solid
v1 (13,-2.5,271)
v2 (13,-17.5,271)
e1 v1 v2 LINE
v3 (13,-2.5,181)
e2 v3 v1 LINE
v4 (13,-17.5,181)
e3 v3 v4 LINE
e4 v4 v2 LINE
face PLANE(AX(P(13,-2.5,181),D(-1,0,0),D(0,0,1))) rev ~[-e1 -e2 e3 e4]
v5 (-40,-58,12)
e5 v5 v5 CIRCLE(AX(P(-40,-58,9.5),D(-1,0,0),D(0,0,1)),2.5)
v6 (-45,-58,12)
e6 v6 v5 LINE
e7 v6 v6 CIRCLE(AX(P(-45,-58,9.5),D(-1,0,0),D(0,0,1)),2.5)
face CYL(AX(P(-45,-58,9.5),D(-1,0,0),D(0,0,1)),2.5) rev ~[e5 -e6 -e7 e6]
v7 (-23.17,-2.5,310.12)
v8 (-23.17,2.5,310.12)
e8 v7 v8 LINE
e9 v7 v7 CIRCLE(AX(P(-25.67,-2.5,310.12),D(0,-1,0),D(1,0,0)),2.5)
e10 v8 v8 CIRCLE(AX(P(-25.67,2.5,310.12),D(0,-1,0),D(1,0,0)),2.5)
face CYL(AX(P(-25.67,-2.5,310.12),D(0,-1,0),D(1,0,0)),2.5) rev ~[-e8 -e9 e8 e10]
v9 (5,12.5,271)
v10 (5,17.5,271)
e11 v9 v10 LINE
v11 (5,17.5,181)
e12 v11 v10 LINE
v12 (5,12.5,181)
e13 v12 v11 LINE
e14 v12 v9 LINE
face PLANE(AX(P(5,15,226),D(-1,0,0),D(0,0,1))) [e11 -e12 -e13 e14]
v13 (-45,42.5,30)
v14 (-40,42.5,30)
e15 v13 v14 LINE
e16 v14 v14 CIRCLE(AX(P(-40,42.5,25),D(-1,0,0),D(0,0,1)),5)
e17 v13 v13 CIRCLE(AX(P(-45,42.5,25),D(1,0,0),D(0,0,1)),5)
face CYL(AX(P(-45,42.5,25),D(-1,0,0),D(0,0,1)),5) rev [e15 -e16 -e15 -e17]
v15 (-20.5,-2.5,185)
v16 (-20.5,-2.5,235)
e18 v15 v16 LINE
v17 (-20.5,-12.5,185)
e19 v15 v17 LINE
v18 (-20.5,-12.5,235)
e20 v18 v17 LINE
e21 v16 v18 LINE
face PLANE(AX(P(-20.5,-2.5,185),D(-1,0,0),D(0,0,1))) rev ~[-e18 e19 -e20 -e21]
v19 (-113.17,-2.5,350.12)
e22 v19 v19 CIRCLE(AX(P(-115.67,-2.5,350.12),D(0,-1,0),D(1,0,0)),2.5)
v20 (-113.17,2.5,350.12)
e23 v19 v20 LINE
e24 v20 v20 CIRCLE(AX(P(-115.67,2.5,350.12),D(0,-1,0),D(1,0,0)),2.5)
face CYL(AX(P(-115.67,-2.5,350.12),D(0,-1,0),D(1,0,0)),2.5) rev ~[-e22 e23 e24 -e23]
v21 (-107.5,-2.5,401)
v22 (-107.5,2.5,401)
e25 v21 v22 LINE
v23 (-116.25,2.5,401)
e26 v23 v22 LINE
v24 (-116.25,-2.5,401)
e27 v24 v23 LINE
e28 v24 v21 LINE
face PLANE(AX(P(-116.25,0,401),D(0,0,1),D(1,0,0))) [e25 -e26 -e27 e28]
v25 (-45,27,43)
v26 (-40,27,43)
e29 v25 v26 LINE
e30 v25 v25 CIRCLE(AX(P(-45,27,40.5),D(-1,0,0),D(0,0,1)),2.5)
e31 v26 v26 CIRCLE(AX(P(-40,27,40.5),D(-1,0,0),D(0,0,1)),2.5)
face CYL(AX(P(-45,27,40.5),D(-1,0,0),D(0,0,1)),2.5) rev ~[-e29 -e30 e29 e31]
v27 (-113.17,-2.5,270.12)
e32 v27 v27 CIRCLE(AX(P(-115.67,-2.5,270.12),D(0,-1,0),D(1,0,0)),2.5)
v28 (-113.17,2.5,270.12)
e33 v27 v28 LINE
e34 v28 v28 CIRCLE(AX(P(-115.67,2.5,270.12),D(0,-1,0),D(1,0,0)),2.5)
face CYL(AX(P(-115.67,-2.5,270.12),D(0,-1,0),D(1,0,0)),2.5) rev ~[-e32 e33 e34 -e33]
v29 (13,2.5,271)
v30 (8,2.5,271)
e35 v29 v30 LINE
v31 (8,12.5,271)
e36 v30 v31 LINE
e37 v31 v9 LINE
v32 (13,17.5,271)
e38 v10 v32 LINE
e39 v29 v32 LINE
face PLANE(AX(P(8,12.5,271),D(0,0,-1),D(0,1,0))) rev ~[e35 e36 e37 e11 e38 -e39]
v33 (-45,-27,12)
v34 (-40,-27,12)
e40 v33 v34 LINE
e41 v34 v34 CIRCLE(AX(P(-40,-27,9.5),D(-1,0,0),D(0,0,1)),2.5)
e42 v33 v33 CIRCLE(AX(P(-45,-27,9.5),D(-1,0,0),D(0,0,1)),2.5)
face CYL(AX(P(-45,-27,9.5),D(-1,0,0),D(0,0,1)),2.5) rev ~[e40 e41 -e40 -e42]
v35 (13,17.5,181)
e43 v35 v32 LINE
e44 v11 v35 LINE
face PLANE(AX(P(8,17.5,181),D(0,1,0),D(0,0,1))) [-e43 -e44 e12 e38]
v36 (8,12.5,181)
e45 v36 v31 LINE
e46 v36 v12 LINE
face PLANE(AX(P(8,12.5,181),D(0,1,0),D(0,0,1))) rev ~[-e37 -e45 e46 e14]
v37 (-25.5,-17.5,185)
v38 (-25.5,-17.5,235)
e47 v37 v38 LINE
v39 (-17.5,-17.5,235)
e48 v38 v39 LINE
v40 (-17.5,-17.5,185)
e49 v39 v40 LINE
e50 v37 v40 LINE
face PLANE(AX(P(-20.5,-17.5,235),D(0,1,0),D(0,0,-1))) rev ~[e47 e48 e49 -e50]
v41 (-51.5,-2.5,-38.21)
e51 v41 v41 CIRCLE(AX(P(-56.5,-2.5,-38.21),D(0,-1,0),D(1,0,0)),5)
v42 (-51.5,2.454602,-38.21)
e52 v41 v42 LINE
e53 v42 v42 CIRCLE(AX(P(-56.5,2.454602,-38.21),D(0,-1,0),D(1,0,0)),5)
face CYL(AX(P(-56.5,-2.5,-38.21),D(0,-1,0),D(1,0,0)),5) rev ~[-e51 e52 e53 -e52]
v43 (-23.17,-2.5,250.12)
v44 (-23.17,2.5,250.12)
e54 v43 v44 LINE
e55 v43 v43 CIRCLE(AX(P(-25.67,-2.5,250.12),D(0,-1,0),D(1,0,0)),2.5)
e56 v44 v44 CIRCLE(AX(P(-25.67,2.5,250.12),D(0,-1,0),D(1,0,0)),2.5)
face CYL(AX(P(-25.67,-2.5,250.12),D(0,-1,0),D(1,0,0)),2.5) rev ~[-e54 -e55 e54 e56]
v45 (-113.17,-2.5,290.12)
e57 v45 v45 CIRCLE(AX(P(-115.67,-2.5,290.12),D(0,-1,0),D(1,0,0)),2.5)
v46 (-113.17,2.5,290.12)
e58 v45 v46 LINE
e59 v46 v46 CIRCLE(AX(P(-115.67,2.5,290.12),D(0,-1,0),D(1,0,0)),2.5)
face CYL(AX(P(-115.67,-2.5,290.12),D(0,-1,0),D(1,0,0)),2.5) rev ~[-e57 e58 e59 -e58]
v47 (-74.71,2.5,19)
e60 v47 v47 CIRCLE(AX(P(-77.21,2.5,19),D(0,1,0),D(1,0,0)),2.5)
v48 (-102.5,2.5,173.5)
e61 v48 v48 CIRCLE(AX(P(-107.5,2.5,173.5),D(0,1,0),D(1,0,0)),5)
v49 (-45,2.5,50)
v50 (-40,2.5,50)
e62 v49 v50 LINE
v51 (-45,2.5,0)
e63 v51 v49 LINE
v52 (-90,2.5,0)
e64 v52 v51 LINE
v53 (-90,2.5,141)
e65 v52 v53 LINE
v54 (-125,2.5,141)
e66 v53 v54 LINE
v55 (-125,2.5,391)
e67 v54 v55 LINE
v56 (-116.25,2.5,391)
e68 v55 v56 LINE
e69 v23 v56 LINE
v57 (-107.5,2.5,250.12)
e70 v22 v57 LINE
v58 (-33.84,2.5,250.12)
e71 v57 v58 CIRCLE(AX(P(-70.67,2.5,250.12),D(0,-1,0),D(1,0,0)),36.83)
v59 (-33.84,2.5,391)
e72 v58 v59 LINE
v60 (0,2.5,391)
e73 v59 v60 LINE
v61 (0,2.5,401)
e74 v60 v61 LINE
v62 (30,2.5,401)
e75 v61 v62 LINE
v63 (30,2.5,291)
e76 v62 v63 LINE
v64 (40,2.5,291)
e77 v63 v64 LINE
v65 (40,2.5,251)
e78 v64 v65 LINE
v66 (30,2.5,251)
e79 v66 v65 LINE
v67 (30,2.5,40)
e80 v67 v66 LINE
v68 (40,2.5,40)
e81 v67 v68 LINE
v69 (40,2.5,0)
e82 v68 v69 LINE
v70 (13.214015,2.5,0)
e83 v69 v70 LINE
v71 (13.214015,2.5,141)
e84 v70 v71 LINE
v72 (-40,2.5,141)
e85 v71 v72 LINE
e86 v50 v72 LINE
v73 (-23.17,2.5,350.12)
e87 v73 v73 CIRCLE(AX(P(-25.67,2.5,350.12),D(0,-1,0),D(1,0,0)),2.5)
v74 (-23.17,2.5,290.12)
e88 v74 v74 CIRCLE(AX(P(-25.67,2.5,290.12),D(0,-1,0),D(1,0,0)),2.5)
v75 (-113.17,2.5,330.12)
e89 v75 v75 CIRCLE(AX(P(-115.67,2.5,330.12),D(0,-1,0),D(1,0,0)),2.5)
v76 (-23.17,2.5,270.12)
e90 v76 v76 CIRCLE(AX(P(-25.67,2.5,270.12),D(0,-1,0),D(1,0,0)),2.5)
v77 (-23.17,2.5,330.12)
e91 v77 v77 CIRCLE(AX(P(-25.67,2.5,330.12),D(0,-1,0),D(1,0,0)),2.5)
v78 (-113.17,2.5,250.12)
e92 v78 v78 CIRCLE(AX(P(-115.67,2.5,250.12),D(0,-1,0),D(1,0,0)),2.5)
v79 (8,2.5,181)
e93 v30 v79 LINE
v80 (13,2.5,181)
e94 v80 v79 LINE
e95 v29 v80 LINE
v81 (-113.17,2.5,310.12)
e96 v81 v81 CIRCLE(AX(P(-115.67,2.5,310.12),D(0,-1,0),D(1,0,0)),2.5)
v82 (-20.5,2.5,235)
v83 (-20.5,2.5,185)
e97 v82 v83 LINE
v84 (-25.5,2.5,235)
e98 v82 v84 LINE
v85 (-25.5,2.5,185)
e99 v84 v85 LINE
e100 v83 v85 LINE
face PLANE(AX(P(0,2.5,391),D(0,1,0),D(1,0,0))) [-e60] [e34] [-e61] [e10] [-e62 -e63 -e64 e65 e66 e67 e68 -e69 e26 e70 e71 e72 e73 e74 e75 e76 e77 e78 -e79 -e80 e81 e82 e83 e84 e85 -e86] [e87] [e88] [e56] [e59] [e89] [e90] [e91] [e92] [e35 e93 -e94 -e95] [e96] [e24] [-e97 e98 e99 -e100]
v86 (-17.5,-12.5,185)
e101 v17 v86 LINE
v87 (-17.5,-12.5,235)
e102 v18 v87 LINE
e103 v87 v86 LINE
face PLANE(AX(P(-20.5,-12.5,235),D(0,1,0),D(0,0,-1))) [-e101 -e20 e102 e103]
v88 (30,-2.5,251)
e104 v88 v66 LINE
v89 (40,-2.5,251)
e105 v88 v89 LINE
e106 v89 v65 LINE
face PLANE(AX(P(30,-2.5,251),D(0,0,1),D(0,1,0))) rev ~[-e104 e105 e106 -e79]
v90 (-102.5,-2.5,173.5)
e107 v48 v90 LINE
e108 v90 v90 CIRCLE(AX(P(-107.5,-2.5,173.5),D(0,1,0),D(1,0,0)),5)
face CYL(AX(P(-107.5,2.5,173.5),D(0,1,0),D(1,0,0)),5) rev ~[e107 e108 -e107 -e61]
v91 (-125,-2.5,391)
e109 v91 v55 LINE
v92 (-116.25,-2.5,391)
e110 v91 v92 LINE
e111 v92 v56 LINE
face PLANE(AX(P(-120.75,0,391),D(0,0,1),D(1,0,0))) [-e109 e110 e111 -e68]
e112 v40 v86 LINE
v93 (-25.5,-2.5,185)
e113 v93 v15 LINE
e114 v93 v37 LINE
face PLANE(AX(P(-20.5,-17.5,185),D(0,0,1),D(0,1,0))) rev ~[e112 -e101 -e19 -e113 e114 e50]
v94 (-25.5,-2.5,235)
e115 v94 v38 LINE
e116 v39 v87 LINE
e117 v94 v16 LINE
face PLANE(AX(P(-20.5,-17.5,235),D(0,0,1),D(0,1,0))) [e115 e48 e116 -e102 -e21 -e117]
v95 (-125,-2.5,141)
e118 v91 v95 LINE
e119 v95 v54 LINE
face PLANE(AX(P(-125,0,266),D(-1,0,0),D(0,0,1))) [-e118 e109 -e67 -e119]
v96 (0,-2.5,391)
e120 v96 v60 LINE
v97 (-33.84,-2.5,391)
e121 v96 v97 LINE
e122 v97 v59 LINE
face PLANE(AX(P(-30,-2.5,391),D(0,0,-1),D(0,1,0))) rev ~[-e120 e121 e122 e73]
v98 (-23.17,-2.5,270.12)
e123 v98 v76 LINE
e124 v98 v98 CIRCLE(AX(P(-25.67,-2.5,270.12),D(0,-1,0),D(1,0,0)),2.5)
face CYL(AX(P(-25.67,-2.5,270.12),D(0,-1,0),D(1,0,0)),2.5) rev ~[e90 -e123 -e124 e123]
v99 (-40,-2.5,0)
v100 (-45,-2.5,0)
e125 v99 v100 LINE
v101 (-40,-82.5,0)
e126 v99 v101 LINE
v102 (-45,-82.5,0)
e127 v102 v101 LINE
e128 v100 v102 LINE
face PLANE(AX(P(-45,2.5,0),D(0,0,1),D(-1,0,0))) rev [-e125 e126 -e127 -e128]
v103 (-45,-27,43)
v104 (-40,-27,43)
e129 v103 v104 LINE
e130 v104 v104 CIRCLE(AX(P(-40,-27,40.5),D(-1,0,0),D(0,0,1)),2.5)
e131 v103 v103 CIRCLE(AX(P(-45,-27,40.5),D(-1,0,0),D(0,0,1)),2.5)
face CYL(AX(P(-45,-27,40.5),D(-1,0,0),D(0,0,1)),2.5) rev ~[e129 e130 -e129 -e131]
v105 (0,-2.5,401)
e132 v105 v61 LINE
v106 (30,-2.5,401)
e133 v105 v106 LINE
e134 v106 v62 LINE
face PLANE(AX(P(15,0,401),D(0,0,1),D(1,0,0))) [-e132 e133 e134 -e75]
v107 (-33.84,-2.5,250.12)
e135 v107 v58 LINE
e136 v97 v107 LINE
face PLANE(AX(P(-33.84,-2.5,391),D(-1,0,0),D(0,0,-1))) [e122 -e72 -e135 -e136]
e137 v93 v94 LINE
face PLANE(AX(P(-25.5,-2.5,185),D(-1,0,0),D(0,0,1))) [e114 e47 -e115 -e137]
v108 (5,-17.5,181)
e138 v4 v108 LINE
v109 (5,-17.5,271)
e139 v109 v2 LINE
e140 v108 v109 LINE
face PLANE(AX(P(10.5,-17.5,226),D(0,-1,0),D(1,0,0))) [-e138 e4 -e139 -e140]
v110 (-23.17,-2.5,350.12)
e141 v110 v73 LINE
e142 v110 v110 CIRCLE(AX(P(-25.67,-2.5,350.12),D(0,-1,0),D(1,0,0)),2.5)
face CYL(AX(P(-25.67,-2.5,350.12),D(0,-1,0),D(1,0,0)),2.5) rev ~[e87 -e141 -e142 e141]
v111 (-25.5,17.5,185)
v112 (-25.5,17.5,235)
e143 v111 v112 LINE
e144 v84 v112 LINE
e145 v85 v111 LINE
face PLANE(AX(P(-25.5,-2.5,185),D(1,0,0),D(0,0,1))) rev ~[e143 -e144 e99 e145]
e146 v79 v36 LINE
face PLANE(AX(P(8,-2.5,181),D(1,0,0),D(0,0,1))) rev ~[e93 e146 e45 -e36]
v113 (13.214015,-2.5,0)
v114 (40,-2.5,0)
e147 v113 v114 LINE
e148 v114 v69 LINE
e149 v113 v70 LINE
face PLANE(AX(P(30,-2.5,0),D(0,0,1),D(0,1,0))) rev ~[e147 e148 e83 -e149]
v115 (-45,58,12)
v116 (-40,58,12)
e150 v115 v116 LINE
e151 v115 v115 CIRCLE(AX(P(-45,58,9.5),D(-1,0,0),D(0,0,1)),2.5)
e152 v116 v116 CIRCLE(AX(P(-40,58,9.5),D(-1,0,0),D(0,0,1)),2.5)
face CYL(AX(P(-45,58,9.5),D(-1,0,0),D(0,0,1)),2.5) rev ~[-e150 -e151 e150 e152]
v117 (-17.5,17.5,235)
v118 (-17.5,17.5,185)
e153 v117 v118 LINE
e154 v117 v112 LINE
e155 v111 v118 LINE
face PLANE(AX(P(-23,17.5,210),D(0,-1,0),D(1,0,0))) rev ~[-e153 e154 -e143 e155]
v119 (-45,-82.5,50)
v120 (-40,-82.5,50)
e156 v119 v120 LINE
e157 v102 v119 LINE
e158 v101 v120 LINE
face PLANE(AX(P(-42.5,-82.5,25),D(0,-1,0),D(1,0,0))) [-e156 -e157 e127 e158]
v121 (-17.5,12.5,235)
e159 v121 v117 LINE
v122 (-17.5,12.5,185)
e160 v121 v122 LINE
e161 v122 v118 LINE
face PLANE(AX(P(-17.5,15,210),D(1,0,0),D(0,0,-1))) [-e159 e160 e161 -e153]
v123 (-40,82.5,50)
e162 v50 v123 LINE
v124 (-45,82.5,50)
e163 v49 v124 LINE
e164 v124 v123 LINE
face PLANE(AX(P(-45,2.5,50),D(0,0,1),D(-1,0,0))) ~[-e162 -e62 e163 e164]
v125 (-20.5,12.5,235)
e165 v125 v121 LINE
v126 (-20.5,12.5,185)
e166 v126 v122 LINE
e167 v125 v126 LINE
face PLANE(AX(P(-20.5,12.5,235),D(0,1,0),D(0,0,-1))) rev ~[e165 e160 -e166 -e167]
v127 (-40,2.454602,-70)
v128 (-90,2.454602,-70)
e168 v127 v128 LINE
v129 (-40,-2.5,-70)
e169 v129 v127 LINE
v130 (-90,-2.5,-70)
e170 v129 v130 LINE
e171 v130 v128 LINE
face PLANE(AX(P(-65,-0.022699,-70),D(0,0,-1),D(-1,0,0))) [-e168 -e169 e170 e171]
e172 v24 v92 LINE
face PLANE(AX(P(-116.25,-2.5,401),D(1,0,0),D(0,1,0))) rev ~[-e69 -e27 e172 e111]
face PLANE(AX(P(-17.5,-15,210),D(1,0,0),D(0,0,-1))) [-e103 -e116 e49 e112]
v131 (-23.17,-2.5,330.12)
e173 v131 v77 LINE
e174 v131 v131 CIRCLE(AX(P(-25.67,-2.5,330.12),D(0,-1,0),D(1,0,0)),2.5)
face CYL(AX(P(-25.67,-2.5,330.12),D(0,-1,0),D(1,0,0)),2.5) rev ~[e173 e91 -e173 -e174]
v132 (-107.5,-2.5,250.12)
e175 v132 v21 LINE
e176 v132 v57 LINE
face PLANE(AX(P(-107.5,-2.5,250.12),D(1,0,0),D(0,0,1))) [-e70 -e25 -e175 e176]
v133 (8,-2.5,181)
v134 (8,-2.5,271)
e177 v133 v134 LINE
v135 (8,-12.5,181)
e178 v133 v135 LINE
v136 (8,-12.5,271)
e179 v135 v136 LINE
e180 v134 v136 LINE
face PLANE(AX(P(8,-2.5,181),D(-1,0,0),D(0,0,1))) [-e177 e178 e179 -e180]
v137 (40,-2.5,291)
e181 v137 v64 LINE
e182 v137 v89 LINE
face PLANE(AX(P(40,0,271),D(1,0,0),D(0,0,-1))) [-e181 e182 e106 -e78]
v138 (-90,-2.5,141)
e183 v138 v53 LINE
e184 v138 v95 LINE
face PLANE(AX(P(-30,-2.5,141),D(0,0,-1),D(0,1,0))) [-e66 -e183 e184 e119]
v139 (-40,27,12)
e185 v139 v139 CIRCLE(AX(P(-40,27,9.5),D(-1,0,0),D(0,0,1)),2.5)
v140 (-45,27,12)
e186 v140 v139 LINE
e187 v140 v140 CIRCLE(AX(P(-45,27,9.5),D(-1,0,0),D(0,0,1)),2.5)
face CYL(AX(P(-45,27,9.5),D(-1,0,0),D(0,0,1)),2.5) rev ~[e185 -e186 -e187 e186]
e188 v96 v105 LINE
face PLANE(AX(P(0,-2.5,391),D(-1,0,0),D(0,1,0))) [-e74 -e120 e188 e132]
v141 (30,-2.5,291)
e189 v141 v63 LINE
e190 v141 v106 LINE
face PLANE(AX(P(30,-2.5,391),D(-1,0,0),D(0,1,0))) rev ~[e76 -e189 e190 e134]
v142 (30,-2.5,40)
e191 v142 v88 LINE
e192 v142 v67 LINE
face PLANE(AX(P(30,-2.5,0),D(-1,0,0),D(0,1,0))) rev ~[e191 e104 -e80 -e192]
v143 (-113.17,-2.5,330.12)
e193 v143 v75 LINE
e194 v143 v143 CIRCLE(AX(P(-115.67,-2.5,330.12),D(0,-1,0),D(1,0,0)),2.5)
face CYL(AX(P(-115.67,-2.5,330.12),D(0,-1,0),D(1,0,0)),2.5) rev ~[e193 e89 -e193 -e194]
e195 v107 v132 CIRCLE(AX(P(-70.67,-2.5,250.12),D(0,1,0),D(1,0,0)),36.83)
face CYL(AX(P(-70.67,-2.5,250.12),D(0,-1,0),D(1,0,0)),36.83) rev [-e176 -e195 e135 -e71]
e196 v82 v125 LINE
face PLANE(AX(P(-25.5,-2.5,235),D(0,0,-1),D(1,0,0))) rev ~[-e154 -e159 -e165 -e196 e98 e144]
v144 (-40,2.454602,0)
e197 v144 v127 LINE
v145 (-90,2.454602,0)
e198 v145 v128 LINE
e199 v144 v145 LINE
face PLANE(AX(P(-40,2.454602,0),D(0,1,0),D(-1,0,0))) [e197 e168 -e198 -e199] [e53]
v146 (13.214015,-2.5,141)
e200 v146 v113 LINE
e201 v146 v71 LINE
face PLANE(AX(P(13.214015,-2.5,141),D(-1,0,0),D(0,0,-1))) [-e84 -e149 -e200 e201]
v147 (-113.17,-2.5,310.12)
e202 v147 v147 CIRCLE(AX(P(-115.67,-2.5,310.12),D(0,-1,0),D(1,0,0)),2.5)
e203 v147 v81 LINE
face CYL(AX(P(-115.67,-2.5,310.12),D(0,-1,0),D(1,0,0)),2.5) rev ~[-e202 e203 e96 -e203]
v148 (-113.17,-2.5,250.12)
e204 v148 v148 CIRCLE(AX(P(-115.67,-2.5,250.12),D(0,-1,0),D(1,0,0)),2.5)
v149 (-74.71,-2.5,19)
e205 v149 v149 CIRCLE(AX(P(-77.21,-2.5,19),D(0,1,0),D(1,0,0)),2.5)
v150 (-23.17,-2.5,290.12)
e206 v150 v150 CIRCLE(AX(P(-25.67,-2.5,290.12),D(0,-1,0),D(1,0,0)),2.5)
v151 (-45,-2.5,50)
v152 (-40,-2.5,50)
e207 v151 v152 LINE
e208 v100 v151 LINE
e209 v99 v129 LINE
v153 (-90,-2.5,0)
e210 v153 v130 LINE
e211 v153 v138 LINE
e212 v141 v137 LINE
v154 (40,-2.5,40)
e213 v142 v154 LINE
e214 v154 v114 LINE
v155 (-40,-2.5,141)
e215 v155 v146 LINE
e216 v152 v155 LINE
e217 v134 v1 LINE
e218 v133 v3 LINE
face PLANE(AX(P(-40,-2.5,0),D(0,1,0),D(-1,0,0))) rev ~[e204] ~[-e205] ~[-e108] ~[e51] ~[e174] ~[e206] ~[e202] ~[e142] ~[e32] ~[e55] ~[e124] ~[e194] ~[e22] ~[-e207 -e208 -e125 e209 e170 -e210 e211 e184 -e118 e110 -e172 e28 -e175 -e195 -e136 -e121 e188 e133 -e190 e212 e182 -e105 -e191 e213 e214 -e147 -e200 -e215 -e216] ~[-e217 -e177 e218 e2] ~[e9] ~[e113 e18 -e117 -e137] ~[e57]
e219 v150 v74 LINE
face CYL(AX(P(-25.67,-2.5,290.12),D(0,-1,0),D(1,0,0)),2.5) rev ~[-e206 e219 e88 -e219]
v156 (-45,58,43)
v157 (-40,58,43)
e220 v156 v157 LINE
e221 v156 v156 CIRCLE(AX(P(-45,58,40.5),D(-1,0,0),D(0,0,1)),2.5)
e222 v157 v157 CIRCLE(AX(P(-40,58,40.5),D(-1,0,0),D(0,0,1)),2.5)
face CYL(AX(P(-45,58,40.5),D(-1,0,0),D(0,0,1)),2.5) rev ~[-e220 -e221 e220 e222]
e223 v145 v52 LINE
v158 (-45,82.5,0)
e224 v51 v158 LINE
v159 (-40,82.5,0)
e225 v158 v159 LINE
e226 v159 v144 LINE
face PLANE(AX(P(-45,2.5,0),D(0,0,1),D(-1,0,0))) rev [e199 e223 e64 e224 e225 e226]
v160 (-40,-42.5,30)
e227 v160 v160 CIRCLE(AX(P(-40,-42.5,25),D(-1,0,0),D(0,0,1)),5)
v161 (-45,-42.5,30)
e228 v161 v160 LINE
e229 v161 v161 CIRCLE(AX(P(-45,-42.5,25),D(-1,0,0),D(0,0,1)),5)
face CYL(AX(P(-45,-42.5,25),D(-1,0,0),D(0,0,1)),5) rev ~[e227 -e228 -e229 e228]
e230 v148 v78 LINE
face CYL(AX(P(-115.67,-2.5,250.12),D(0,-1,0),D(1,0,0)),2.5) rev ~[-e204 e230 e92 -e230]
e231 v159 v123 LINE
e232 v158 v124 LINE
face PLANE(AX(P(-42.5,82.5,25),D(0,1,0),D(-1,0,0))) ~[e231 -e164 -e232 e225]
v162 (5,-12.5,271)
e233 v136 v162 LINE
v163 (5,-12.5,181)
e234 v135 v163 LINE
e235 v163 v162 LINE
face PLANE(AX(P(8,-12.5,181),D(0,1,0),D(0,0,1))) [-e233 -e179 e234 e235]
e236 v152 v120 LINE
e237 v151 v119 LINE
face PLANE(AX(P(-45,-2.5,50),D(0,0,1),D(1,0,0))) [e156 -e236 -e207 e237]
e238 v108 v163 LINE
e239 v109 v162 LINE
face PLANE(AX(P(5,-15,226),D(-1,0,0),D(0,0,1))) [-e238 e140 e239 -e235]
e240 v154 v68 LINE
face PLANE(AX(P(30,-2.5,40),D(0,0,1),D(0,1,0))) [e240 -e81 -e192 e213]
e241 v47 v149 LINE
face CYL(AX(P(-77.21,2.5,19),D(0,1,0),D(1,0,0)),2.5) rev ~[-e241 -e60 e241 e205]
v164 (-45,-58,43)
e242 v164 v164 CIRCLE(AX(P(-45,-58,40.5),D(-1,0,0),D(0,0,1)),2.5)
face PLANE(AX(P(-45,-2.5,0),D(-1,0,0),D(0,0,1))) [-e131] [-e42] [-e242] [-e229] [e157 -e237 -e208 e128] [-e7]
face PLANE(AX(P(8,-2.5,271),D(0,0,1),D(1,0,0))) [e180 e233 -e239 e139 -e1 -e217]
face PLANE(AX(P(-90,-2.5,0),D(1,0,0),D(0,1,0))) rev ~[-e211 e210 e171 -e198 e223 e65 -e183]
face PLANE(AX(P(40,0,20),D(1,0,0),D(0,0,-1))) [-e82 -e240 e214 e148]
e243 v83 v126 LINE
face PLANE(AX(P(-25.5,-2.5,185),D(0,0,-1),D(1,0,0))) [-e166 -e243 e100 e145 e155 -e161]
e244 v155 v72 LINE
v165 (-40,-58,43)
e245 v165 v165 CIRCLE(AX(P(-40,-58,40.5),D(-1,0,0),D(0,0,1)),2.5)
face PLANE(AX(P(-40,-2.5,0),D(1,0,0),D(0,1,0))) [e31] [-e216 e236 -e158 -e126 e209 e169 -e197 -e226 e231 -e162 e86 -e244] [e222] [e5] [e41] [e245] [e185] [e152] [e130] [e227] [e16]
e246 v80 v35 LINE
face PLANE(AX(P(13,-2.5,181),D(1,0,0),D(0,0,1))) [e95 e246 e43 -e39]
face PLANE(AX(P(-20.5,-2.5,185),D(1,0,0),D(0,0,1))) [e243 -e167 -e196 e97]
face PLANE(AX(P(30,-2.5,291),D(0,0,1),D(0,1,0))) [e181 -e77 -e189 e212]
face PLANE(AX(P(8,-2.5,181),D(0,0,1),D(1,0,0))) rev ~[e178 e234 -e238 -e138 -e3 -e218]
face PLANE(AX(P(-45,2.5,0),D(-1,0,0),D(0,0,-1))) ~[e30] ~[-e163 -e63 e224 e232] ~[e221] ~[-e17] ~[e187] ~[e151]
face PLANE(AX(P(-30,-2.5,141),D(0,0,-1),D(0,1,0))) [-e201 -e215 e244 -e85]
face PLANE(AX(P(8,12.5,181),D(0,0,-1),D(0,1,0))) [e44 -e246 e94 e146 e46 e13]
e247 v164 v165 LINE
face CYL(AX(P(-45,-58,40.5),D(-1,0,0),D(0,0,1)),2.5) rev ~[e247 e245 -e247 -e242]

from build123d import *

# Parameters (mm, degrees)
SKETCH1_W                = 60
SKETCH1_H                = 5
BOSS_EXTRUDE1_DEPTH      = 391
SKETCH3_W                = 250
SKETCH3_H                = 5
BOSS_EXTRUDE2_DEPTH      = 95
SKETCH4_R                = 2.5
CUT_EXTRUDE1_DEPTH       = 95
SKETCH5_W                = 50
SKETCH5_H                = 141
BOSS_EXTRUDE3_DEPTH      = 5
SKETCH6_W                = 5
SKETCH6_H                = 50
BOSS_EXTRUDE4_DEPTH      = 80
SKETCH7_R                = 5
CUT_EXTRUDE2_DEPTH       = 40
CUT_EXTRUDE3_DEPTH       = 10
SKETCH11_W               = 40
SKETCH11_H               = 5
BOSS_EXTRUDE5_DEPTH      = 10
SKETCH12_W               = 30
SKETCH12_H               = 5
SKETCH12_W_2             = 17.5
BOSS_EXTRUDE6_DEPTH      = 10
SKETCH14_W               = 9
SKETCH14_H               = 5
CUT_EXTRUDE4_DEPTH       = 10
SKETCH15_W               = 5
SKETCH15_H               = 90
SKETCH15_H_2             = 50
BOSS_EXTRUDE7_DEPTH      = 15
BOSS_EXTRUDE7_DEPTH_BACK = 20
SKETCH16_W               = 50
SKETCH16_H               = 5
BOSS_EXTRUDE8_DEPTH      = 3
SKETCH18_W               = 90
SKETCH18_H               = 5
BOSS_EXTRUDE9_DEPTH      = 3
SKETCH19_R               = 2.5
CUT_EXTRUDE5_DEPTH       = 28
SKETCH20_W               = 50
SKETCH20_H               = 4.954602057
BOSS_EXTRUDE10_DEPTH     = 70
SKETCH21_R               = 5
CUT_EXTRUDE6_DEPTH       = 70
SKETCH22_R               = 2.5
CUT_EXTRUDE7_DEPTH       = 10
SKETCH23_R               = 5
CUT_EXTRUDE8_DEPTH       = 10


with BuildPart() as part:
    # Sketch1 → Boss-Extrude1 (new body)
    with BuildSketch(Plane.XY):
        Rectangle(SKETCH1_W, SKETCH1_H)
    extrude(amount=BOSS_EXTRUDE1_DEPTH)

    # Sketch3 → Boss-Extrude2 (add)
    with BuildSketch(Plane.ZY.offset(30)):
        with Locations((266, 0)):
            Rectangle(SKETCH3_W, SKETCH3_H)
    extrude(amount=BOSS_EXTRUDE2_DEPTH)

    # Sketch4 → Cut-Extrude1 (cut)
    with BuildSketch(Plane.XZ.offset(2.5)):
        with Locations((-115.67, 250.12)):
            Circle(SKETCH4_R)
        with Locations((-25.67, 250.12)):
            Circle(SKETCH4_R)
        with Locations((-25.67, 270.12)):
            Circle(SKETCH4_R)
        with Locations((-25.67, 290.12)):
            Circle(SKETCH4_R)
        with Locations((-25.67, 310.12)):
            Circle(SKETCH4_R)
        with Locations((-25.67, 330.12)):
            Circle(SKETCH4_R)
        with Locations((-25.67, 350.12)):
            Circle(SKETCH4_R)
        with Locations((-115.67, 270.12)):
            Circle(SKETCH4_R)
        with Locations((-115.67, 290.12)):
            Circle(SKETCH4_R)
        with Locations((-115.67, 310.12)):
            Circle(SKETCH4_R)
        with Locations((-115.67, 330.12)):
            Circle(SKETCH4_R)
        with Locations((-115.67, 350.12)):
            Circle(SKETCH4_R)
        with BuildLine():
            Line((-33.84, 391), (-33.84, 250.12))
            ThreePointArc((-33.84, 250.12), (-70.67, 213.29), (-107.5, 250.12))
            Line((-107.5, 250.12), (-107.5, 391))
            ThreePointArc((-107.5, 391), (-70.67, 427.83), (-33.84, 391))
        make_face()
    extrude(amount=-CUT_EXTRUDE1_DEPTH, mode=Mode.SUBTRACT)

    # Sketch5 → Boss-Extrude3 (add)
    with BuildSketch(Plane.XZ.offset(2.5)):
        with Locations((-65, 70.5)):
            Rectangle(SKETCH5_W, SKETCH5_H)
    extrude(amount=-BOSS_EXTRUDE3_DEPTH)

    # Sketch6 → Boss-Extrude4 (add)
    with BuildSketch(Plane.XZ.offset(2.5)):
        with Locations((-42.5, 25)):
            Rectangle(SKETCH6_W, SKETCH6_H)
    boss_extrude4 = extrude(amount=BOSS_EXTRUDE4_DEPTH)

    # Sketch7 → Cut-Extrude2 (cut)
    with BuildSketch(Plane.ZY.offset(45)):
        with Locations((25, -42.5)):
            Circle(SKETCH7_R)
    cut_extrude2 = extrude(amount=-CUT_EXTRUDE2_DEPTH, mode=Mode.SUBTRACT)

    # Sketch8 → Cut-Extrude3 (cut)
    with BuildSketch(Plane(origin=(0, -2.5, 0), x_dir=(-1, 0, 0), z_dir=(0, -1, 0))):
        Polygon((30, -141), (0, -141), (-13.214015024, -141), (-13.214015024, 0), (0, 0), (30, 0), align=None)
    extrude(amount=-CUT_EXTRUDE3_DEPTH, mode=Mode.SUBTRACT)

    # Sketch11 → Boss-Extrude5 (add)
    with BuildSketch(Plane(origin=(30, 0, 0), x_dir=(0, 0, -1), z_dir=(1, 0, 0))):
        with Locations((-20, 0)):
            Rectangle(SKETCH11_W, SKETCH11_H)
        with Locations((-271, 0)):
            Rectangle(SKETCH11_W, SKETCH11_H)
    extrude(amount=BOSS_EXTRUDE5_DEPTH)

    # Sketch12 → Boss-Extrude6 (add)
    with BuildSketch(Plane.XY.offset(391)):
        with Locations((15, 0)):
            Rectangle(SKETCH12_W, SKETCH12_H)
        with Locations((-116.25, 0)):
            Rectangle(SKETCH12_W_2, SKETCH12_H)
    extrude(amount=BOSS_EXTRUDE6_DEPTH)

    # Mirror1: Boss-Extrude4, Cut-Extrude2 across plane
    add(boss_extrude4.mirror(Plane.ZX))
    add(cut_extrude2.mirror(Plane.ZX), mode=Mode.SUBTRACT)

    # Sketch14 → Cut-Extrude4 (cut)
    with BuildSketch(Plane.XY.offset(401)):
        with Locations((-120.75, 0)):
            Rectangle(SKETCH14_W, SKETCH14_H)
    extrude(amount=-CUT_EXTRUDE4_DEPTH, mode=Mode.SUBTRACT)

    # Sketch15 → Boss-Extrude7 (add, two sides)
    with BuildSketch(Plane.XZ.offset(2.5)) as boss_extrude7_sk:
        with Locations((10.5, 226)):
            Rectangle(SKETCH15_W, SKETCH15_H)
        with Locations((-23, 210)):
            Rectangle(SKETCH15_W, SKETCH15_H_2)
    extrude(amount=BOSS_EXTRUDE7_DEPTH)
    extrude(boss_extrude7_sk.sketch, amount=-BOSS_EXTRUDE7_DEPTH_BACK)

    # Sketch16 → Boss-Extrude8 (add)
    with BuildSketch(Plane(origin=(-20.5, 0, 0), x_dir=(0, 0, -1), z_dir=(1, 0, 0))):
        with Locations((-210, -15)):
            Rectangle(SKETCH16_W, SKETCH16_H)
        with Locations((-210, 15)):
            Rectangle(SKETCH16_W, SKETCH16_H)
    extrude(amount=BOSS_EXTRUDE8_DEPTH)

    # Sketch18 → Boss-Extrude9 (add)
    with BuildSketch(Plane.ZY.offset(-8)):
        with Locations((226, 15)):
            Rectangle(SKETCH18_W, SKETCH18_H)
        with Locations((226, -15)):
            Rectangle(SKETCH18_W, SKETCH18_H)
    extrude(amount=BOSS_EXTRUDE9_DEPTH)

    # Sketch19 → Cut-Extrude5 (cut)
    with BuildSketch(Plane.ZY.offset(45)):
        with Locations((9.5, 58)):
            Circle(SKETCH19_R)
        with Locations((40.5, 58)):
            Circle(SKETCH19_R)
        with Locations((40.5, 27)):
            Circle(SKETCH19_R)
        with Locations((9.5, 27)):
            Circle(SKETCH19_R)
        with Locations((40.5, -27)):
            Circle(SKETCH19_R)
        with Locations((40.5, -58)):
            Circle(SKETCH19_R)
        with Locations((9.5, -58)):
            Circle(SKETCH19_R)
        with Locations((9.5, -27)):
            Circle(SKETCH19_R)
    extrude(amount=-CUT_EXTRUDE5_DEPTH, mode=Mode.SUBTRACT)

    # Sketch20 → Boss-Extrude10 (add)
    with BuildSketch(Plane(origin=(0, 0, 0), x_dir=(-1, 0, 0), z_dir=(0, 0, -1))):
        with Locations((65, -0.022698971)):
            Rectangle(SKETCH20_W, SKETCH20_H)
    extrude(amount=BOSS_EXTRUDE10_DEPTH)

    # Sketch21 → Cut-Extrude6 (cut)
    with BuildSketch(Plane.XZ.offset(2.5)):
        with Locations((-56.5, -38.21)):
            Circle(SKETCH21_R)
    extrude(amount=-CUT_EXTRUDE6_DEPTH, mode=Mode.SUBTRACT)

    # Sketch22 → Cut-Extrude7 (cut)
    with BuildSketch(Plane(origin=(0, 2.5, 0), x_dir=(1, 0, 0), z_dir=(0, 1, 0))):
        with Locations((-77.21, -19)):
            Circle(SKETCH22_R)
    extrude(amount=-CUT_EXTRUDE7_DEPTH, mode=Mode.SUBTRACT)

    # Sketch23 → Cut-Extrude8 (cut)
    with BuildSketch(Plane(origin=(0, 2.5, 0), x_dir=(1, 0, 0), z_dir=(0, 1, 0))):
        with Locations((-107.5, -173.5)):
            Circle(SKETCH23_R)
    extrude(amount=-CUT_EXTRUDE8_DEPTH, mode=Mode.SUBTRACT)


solid = part.part
